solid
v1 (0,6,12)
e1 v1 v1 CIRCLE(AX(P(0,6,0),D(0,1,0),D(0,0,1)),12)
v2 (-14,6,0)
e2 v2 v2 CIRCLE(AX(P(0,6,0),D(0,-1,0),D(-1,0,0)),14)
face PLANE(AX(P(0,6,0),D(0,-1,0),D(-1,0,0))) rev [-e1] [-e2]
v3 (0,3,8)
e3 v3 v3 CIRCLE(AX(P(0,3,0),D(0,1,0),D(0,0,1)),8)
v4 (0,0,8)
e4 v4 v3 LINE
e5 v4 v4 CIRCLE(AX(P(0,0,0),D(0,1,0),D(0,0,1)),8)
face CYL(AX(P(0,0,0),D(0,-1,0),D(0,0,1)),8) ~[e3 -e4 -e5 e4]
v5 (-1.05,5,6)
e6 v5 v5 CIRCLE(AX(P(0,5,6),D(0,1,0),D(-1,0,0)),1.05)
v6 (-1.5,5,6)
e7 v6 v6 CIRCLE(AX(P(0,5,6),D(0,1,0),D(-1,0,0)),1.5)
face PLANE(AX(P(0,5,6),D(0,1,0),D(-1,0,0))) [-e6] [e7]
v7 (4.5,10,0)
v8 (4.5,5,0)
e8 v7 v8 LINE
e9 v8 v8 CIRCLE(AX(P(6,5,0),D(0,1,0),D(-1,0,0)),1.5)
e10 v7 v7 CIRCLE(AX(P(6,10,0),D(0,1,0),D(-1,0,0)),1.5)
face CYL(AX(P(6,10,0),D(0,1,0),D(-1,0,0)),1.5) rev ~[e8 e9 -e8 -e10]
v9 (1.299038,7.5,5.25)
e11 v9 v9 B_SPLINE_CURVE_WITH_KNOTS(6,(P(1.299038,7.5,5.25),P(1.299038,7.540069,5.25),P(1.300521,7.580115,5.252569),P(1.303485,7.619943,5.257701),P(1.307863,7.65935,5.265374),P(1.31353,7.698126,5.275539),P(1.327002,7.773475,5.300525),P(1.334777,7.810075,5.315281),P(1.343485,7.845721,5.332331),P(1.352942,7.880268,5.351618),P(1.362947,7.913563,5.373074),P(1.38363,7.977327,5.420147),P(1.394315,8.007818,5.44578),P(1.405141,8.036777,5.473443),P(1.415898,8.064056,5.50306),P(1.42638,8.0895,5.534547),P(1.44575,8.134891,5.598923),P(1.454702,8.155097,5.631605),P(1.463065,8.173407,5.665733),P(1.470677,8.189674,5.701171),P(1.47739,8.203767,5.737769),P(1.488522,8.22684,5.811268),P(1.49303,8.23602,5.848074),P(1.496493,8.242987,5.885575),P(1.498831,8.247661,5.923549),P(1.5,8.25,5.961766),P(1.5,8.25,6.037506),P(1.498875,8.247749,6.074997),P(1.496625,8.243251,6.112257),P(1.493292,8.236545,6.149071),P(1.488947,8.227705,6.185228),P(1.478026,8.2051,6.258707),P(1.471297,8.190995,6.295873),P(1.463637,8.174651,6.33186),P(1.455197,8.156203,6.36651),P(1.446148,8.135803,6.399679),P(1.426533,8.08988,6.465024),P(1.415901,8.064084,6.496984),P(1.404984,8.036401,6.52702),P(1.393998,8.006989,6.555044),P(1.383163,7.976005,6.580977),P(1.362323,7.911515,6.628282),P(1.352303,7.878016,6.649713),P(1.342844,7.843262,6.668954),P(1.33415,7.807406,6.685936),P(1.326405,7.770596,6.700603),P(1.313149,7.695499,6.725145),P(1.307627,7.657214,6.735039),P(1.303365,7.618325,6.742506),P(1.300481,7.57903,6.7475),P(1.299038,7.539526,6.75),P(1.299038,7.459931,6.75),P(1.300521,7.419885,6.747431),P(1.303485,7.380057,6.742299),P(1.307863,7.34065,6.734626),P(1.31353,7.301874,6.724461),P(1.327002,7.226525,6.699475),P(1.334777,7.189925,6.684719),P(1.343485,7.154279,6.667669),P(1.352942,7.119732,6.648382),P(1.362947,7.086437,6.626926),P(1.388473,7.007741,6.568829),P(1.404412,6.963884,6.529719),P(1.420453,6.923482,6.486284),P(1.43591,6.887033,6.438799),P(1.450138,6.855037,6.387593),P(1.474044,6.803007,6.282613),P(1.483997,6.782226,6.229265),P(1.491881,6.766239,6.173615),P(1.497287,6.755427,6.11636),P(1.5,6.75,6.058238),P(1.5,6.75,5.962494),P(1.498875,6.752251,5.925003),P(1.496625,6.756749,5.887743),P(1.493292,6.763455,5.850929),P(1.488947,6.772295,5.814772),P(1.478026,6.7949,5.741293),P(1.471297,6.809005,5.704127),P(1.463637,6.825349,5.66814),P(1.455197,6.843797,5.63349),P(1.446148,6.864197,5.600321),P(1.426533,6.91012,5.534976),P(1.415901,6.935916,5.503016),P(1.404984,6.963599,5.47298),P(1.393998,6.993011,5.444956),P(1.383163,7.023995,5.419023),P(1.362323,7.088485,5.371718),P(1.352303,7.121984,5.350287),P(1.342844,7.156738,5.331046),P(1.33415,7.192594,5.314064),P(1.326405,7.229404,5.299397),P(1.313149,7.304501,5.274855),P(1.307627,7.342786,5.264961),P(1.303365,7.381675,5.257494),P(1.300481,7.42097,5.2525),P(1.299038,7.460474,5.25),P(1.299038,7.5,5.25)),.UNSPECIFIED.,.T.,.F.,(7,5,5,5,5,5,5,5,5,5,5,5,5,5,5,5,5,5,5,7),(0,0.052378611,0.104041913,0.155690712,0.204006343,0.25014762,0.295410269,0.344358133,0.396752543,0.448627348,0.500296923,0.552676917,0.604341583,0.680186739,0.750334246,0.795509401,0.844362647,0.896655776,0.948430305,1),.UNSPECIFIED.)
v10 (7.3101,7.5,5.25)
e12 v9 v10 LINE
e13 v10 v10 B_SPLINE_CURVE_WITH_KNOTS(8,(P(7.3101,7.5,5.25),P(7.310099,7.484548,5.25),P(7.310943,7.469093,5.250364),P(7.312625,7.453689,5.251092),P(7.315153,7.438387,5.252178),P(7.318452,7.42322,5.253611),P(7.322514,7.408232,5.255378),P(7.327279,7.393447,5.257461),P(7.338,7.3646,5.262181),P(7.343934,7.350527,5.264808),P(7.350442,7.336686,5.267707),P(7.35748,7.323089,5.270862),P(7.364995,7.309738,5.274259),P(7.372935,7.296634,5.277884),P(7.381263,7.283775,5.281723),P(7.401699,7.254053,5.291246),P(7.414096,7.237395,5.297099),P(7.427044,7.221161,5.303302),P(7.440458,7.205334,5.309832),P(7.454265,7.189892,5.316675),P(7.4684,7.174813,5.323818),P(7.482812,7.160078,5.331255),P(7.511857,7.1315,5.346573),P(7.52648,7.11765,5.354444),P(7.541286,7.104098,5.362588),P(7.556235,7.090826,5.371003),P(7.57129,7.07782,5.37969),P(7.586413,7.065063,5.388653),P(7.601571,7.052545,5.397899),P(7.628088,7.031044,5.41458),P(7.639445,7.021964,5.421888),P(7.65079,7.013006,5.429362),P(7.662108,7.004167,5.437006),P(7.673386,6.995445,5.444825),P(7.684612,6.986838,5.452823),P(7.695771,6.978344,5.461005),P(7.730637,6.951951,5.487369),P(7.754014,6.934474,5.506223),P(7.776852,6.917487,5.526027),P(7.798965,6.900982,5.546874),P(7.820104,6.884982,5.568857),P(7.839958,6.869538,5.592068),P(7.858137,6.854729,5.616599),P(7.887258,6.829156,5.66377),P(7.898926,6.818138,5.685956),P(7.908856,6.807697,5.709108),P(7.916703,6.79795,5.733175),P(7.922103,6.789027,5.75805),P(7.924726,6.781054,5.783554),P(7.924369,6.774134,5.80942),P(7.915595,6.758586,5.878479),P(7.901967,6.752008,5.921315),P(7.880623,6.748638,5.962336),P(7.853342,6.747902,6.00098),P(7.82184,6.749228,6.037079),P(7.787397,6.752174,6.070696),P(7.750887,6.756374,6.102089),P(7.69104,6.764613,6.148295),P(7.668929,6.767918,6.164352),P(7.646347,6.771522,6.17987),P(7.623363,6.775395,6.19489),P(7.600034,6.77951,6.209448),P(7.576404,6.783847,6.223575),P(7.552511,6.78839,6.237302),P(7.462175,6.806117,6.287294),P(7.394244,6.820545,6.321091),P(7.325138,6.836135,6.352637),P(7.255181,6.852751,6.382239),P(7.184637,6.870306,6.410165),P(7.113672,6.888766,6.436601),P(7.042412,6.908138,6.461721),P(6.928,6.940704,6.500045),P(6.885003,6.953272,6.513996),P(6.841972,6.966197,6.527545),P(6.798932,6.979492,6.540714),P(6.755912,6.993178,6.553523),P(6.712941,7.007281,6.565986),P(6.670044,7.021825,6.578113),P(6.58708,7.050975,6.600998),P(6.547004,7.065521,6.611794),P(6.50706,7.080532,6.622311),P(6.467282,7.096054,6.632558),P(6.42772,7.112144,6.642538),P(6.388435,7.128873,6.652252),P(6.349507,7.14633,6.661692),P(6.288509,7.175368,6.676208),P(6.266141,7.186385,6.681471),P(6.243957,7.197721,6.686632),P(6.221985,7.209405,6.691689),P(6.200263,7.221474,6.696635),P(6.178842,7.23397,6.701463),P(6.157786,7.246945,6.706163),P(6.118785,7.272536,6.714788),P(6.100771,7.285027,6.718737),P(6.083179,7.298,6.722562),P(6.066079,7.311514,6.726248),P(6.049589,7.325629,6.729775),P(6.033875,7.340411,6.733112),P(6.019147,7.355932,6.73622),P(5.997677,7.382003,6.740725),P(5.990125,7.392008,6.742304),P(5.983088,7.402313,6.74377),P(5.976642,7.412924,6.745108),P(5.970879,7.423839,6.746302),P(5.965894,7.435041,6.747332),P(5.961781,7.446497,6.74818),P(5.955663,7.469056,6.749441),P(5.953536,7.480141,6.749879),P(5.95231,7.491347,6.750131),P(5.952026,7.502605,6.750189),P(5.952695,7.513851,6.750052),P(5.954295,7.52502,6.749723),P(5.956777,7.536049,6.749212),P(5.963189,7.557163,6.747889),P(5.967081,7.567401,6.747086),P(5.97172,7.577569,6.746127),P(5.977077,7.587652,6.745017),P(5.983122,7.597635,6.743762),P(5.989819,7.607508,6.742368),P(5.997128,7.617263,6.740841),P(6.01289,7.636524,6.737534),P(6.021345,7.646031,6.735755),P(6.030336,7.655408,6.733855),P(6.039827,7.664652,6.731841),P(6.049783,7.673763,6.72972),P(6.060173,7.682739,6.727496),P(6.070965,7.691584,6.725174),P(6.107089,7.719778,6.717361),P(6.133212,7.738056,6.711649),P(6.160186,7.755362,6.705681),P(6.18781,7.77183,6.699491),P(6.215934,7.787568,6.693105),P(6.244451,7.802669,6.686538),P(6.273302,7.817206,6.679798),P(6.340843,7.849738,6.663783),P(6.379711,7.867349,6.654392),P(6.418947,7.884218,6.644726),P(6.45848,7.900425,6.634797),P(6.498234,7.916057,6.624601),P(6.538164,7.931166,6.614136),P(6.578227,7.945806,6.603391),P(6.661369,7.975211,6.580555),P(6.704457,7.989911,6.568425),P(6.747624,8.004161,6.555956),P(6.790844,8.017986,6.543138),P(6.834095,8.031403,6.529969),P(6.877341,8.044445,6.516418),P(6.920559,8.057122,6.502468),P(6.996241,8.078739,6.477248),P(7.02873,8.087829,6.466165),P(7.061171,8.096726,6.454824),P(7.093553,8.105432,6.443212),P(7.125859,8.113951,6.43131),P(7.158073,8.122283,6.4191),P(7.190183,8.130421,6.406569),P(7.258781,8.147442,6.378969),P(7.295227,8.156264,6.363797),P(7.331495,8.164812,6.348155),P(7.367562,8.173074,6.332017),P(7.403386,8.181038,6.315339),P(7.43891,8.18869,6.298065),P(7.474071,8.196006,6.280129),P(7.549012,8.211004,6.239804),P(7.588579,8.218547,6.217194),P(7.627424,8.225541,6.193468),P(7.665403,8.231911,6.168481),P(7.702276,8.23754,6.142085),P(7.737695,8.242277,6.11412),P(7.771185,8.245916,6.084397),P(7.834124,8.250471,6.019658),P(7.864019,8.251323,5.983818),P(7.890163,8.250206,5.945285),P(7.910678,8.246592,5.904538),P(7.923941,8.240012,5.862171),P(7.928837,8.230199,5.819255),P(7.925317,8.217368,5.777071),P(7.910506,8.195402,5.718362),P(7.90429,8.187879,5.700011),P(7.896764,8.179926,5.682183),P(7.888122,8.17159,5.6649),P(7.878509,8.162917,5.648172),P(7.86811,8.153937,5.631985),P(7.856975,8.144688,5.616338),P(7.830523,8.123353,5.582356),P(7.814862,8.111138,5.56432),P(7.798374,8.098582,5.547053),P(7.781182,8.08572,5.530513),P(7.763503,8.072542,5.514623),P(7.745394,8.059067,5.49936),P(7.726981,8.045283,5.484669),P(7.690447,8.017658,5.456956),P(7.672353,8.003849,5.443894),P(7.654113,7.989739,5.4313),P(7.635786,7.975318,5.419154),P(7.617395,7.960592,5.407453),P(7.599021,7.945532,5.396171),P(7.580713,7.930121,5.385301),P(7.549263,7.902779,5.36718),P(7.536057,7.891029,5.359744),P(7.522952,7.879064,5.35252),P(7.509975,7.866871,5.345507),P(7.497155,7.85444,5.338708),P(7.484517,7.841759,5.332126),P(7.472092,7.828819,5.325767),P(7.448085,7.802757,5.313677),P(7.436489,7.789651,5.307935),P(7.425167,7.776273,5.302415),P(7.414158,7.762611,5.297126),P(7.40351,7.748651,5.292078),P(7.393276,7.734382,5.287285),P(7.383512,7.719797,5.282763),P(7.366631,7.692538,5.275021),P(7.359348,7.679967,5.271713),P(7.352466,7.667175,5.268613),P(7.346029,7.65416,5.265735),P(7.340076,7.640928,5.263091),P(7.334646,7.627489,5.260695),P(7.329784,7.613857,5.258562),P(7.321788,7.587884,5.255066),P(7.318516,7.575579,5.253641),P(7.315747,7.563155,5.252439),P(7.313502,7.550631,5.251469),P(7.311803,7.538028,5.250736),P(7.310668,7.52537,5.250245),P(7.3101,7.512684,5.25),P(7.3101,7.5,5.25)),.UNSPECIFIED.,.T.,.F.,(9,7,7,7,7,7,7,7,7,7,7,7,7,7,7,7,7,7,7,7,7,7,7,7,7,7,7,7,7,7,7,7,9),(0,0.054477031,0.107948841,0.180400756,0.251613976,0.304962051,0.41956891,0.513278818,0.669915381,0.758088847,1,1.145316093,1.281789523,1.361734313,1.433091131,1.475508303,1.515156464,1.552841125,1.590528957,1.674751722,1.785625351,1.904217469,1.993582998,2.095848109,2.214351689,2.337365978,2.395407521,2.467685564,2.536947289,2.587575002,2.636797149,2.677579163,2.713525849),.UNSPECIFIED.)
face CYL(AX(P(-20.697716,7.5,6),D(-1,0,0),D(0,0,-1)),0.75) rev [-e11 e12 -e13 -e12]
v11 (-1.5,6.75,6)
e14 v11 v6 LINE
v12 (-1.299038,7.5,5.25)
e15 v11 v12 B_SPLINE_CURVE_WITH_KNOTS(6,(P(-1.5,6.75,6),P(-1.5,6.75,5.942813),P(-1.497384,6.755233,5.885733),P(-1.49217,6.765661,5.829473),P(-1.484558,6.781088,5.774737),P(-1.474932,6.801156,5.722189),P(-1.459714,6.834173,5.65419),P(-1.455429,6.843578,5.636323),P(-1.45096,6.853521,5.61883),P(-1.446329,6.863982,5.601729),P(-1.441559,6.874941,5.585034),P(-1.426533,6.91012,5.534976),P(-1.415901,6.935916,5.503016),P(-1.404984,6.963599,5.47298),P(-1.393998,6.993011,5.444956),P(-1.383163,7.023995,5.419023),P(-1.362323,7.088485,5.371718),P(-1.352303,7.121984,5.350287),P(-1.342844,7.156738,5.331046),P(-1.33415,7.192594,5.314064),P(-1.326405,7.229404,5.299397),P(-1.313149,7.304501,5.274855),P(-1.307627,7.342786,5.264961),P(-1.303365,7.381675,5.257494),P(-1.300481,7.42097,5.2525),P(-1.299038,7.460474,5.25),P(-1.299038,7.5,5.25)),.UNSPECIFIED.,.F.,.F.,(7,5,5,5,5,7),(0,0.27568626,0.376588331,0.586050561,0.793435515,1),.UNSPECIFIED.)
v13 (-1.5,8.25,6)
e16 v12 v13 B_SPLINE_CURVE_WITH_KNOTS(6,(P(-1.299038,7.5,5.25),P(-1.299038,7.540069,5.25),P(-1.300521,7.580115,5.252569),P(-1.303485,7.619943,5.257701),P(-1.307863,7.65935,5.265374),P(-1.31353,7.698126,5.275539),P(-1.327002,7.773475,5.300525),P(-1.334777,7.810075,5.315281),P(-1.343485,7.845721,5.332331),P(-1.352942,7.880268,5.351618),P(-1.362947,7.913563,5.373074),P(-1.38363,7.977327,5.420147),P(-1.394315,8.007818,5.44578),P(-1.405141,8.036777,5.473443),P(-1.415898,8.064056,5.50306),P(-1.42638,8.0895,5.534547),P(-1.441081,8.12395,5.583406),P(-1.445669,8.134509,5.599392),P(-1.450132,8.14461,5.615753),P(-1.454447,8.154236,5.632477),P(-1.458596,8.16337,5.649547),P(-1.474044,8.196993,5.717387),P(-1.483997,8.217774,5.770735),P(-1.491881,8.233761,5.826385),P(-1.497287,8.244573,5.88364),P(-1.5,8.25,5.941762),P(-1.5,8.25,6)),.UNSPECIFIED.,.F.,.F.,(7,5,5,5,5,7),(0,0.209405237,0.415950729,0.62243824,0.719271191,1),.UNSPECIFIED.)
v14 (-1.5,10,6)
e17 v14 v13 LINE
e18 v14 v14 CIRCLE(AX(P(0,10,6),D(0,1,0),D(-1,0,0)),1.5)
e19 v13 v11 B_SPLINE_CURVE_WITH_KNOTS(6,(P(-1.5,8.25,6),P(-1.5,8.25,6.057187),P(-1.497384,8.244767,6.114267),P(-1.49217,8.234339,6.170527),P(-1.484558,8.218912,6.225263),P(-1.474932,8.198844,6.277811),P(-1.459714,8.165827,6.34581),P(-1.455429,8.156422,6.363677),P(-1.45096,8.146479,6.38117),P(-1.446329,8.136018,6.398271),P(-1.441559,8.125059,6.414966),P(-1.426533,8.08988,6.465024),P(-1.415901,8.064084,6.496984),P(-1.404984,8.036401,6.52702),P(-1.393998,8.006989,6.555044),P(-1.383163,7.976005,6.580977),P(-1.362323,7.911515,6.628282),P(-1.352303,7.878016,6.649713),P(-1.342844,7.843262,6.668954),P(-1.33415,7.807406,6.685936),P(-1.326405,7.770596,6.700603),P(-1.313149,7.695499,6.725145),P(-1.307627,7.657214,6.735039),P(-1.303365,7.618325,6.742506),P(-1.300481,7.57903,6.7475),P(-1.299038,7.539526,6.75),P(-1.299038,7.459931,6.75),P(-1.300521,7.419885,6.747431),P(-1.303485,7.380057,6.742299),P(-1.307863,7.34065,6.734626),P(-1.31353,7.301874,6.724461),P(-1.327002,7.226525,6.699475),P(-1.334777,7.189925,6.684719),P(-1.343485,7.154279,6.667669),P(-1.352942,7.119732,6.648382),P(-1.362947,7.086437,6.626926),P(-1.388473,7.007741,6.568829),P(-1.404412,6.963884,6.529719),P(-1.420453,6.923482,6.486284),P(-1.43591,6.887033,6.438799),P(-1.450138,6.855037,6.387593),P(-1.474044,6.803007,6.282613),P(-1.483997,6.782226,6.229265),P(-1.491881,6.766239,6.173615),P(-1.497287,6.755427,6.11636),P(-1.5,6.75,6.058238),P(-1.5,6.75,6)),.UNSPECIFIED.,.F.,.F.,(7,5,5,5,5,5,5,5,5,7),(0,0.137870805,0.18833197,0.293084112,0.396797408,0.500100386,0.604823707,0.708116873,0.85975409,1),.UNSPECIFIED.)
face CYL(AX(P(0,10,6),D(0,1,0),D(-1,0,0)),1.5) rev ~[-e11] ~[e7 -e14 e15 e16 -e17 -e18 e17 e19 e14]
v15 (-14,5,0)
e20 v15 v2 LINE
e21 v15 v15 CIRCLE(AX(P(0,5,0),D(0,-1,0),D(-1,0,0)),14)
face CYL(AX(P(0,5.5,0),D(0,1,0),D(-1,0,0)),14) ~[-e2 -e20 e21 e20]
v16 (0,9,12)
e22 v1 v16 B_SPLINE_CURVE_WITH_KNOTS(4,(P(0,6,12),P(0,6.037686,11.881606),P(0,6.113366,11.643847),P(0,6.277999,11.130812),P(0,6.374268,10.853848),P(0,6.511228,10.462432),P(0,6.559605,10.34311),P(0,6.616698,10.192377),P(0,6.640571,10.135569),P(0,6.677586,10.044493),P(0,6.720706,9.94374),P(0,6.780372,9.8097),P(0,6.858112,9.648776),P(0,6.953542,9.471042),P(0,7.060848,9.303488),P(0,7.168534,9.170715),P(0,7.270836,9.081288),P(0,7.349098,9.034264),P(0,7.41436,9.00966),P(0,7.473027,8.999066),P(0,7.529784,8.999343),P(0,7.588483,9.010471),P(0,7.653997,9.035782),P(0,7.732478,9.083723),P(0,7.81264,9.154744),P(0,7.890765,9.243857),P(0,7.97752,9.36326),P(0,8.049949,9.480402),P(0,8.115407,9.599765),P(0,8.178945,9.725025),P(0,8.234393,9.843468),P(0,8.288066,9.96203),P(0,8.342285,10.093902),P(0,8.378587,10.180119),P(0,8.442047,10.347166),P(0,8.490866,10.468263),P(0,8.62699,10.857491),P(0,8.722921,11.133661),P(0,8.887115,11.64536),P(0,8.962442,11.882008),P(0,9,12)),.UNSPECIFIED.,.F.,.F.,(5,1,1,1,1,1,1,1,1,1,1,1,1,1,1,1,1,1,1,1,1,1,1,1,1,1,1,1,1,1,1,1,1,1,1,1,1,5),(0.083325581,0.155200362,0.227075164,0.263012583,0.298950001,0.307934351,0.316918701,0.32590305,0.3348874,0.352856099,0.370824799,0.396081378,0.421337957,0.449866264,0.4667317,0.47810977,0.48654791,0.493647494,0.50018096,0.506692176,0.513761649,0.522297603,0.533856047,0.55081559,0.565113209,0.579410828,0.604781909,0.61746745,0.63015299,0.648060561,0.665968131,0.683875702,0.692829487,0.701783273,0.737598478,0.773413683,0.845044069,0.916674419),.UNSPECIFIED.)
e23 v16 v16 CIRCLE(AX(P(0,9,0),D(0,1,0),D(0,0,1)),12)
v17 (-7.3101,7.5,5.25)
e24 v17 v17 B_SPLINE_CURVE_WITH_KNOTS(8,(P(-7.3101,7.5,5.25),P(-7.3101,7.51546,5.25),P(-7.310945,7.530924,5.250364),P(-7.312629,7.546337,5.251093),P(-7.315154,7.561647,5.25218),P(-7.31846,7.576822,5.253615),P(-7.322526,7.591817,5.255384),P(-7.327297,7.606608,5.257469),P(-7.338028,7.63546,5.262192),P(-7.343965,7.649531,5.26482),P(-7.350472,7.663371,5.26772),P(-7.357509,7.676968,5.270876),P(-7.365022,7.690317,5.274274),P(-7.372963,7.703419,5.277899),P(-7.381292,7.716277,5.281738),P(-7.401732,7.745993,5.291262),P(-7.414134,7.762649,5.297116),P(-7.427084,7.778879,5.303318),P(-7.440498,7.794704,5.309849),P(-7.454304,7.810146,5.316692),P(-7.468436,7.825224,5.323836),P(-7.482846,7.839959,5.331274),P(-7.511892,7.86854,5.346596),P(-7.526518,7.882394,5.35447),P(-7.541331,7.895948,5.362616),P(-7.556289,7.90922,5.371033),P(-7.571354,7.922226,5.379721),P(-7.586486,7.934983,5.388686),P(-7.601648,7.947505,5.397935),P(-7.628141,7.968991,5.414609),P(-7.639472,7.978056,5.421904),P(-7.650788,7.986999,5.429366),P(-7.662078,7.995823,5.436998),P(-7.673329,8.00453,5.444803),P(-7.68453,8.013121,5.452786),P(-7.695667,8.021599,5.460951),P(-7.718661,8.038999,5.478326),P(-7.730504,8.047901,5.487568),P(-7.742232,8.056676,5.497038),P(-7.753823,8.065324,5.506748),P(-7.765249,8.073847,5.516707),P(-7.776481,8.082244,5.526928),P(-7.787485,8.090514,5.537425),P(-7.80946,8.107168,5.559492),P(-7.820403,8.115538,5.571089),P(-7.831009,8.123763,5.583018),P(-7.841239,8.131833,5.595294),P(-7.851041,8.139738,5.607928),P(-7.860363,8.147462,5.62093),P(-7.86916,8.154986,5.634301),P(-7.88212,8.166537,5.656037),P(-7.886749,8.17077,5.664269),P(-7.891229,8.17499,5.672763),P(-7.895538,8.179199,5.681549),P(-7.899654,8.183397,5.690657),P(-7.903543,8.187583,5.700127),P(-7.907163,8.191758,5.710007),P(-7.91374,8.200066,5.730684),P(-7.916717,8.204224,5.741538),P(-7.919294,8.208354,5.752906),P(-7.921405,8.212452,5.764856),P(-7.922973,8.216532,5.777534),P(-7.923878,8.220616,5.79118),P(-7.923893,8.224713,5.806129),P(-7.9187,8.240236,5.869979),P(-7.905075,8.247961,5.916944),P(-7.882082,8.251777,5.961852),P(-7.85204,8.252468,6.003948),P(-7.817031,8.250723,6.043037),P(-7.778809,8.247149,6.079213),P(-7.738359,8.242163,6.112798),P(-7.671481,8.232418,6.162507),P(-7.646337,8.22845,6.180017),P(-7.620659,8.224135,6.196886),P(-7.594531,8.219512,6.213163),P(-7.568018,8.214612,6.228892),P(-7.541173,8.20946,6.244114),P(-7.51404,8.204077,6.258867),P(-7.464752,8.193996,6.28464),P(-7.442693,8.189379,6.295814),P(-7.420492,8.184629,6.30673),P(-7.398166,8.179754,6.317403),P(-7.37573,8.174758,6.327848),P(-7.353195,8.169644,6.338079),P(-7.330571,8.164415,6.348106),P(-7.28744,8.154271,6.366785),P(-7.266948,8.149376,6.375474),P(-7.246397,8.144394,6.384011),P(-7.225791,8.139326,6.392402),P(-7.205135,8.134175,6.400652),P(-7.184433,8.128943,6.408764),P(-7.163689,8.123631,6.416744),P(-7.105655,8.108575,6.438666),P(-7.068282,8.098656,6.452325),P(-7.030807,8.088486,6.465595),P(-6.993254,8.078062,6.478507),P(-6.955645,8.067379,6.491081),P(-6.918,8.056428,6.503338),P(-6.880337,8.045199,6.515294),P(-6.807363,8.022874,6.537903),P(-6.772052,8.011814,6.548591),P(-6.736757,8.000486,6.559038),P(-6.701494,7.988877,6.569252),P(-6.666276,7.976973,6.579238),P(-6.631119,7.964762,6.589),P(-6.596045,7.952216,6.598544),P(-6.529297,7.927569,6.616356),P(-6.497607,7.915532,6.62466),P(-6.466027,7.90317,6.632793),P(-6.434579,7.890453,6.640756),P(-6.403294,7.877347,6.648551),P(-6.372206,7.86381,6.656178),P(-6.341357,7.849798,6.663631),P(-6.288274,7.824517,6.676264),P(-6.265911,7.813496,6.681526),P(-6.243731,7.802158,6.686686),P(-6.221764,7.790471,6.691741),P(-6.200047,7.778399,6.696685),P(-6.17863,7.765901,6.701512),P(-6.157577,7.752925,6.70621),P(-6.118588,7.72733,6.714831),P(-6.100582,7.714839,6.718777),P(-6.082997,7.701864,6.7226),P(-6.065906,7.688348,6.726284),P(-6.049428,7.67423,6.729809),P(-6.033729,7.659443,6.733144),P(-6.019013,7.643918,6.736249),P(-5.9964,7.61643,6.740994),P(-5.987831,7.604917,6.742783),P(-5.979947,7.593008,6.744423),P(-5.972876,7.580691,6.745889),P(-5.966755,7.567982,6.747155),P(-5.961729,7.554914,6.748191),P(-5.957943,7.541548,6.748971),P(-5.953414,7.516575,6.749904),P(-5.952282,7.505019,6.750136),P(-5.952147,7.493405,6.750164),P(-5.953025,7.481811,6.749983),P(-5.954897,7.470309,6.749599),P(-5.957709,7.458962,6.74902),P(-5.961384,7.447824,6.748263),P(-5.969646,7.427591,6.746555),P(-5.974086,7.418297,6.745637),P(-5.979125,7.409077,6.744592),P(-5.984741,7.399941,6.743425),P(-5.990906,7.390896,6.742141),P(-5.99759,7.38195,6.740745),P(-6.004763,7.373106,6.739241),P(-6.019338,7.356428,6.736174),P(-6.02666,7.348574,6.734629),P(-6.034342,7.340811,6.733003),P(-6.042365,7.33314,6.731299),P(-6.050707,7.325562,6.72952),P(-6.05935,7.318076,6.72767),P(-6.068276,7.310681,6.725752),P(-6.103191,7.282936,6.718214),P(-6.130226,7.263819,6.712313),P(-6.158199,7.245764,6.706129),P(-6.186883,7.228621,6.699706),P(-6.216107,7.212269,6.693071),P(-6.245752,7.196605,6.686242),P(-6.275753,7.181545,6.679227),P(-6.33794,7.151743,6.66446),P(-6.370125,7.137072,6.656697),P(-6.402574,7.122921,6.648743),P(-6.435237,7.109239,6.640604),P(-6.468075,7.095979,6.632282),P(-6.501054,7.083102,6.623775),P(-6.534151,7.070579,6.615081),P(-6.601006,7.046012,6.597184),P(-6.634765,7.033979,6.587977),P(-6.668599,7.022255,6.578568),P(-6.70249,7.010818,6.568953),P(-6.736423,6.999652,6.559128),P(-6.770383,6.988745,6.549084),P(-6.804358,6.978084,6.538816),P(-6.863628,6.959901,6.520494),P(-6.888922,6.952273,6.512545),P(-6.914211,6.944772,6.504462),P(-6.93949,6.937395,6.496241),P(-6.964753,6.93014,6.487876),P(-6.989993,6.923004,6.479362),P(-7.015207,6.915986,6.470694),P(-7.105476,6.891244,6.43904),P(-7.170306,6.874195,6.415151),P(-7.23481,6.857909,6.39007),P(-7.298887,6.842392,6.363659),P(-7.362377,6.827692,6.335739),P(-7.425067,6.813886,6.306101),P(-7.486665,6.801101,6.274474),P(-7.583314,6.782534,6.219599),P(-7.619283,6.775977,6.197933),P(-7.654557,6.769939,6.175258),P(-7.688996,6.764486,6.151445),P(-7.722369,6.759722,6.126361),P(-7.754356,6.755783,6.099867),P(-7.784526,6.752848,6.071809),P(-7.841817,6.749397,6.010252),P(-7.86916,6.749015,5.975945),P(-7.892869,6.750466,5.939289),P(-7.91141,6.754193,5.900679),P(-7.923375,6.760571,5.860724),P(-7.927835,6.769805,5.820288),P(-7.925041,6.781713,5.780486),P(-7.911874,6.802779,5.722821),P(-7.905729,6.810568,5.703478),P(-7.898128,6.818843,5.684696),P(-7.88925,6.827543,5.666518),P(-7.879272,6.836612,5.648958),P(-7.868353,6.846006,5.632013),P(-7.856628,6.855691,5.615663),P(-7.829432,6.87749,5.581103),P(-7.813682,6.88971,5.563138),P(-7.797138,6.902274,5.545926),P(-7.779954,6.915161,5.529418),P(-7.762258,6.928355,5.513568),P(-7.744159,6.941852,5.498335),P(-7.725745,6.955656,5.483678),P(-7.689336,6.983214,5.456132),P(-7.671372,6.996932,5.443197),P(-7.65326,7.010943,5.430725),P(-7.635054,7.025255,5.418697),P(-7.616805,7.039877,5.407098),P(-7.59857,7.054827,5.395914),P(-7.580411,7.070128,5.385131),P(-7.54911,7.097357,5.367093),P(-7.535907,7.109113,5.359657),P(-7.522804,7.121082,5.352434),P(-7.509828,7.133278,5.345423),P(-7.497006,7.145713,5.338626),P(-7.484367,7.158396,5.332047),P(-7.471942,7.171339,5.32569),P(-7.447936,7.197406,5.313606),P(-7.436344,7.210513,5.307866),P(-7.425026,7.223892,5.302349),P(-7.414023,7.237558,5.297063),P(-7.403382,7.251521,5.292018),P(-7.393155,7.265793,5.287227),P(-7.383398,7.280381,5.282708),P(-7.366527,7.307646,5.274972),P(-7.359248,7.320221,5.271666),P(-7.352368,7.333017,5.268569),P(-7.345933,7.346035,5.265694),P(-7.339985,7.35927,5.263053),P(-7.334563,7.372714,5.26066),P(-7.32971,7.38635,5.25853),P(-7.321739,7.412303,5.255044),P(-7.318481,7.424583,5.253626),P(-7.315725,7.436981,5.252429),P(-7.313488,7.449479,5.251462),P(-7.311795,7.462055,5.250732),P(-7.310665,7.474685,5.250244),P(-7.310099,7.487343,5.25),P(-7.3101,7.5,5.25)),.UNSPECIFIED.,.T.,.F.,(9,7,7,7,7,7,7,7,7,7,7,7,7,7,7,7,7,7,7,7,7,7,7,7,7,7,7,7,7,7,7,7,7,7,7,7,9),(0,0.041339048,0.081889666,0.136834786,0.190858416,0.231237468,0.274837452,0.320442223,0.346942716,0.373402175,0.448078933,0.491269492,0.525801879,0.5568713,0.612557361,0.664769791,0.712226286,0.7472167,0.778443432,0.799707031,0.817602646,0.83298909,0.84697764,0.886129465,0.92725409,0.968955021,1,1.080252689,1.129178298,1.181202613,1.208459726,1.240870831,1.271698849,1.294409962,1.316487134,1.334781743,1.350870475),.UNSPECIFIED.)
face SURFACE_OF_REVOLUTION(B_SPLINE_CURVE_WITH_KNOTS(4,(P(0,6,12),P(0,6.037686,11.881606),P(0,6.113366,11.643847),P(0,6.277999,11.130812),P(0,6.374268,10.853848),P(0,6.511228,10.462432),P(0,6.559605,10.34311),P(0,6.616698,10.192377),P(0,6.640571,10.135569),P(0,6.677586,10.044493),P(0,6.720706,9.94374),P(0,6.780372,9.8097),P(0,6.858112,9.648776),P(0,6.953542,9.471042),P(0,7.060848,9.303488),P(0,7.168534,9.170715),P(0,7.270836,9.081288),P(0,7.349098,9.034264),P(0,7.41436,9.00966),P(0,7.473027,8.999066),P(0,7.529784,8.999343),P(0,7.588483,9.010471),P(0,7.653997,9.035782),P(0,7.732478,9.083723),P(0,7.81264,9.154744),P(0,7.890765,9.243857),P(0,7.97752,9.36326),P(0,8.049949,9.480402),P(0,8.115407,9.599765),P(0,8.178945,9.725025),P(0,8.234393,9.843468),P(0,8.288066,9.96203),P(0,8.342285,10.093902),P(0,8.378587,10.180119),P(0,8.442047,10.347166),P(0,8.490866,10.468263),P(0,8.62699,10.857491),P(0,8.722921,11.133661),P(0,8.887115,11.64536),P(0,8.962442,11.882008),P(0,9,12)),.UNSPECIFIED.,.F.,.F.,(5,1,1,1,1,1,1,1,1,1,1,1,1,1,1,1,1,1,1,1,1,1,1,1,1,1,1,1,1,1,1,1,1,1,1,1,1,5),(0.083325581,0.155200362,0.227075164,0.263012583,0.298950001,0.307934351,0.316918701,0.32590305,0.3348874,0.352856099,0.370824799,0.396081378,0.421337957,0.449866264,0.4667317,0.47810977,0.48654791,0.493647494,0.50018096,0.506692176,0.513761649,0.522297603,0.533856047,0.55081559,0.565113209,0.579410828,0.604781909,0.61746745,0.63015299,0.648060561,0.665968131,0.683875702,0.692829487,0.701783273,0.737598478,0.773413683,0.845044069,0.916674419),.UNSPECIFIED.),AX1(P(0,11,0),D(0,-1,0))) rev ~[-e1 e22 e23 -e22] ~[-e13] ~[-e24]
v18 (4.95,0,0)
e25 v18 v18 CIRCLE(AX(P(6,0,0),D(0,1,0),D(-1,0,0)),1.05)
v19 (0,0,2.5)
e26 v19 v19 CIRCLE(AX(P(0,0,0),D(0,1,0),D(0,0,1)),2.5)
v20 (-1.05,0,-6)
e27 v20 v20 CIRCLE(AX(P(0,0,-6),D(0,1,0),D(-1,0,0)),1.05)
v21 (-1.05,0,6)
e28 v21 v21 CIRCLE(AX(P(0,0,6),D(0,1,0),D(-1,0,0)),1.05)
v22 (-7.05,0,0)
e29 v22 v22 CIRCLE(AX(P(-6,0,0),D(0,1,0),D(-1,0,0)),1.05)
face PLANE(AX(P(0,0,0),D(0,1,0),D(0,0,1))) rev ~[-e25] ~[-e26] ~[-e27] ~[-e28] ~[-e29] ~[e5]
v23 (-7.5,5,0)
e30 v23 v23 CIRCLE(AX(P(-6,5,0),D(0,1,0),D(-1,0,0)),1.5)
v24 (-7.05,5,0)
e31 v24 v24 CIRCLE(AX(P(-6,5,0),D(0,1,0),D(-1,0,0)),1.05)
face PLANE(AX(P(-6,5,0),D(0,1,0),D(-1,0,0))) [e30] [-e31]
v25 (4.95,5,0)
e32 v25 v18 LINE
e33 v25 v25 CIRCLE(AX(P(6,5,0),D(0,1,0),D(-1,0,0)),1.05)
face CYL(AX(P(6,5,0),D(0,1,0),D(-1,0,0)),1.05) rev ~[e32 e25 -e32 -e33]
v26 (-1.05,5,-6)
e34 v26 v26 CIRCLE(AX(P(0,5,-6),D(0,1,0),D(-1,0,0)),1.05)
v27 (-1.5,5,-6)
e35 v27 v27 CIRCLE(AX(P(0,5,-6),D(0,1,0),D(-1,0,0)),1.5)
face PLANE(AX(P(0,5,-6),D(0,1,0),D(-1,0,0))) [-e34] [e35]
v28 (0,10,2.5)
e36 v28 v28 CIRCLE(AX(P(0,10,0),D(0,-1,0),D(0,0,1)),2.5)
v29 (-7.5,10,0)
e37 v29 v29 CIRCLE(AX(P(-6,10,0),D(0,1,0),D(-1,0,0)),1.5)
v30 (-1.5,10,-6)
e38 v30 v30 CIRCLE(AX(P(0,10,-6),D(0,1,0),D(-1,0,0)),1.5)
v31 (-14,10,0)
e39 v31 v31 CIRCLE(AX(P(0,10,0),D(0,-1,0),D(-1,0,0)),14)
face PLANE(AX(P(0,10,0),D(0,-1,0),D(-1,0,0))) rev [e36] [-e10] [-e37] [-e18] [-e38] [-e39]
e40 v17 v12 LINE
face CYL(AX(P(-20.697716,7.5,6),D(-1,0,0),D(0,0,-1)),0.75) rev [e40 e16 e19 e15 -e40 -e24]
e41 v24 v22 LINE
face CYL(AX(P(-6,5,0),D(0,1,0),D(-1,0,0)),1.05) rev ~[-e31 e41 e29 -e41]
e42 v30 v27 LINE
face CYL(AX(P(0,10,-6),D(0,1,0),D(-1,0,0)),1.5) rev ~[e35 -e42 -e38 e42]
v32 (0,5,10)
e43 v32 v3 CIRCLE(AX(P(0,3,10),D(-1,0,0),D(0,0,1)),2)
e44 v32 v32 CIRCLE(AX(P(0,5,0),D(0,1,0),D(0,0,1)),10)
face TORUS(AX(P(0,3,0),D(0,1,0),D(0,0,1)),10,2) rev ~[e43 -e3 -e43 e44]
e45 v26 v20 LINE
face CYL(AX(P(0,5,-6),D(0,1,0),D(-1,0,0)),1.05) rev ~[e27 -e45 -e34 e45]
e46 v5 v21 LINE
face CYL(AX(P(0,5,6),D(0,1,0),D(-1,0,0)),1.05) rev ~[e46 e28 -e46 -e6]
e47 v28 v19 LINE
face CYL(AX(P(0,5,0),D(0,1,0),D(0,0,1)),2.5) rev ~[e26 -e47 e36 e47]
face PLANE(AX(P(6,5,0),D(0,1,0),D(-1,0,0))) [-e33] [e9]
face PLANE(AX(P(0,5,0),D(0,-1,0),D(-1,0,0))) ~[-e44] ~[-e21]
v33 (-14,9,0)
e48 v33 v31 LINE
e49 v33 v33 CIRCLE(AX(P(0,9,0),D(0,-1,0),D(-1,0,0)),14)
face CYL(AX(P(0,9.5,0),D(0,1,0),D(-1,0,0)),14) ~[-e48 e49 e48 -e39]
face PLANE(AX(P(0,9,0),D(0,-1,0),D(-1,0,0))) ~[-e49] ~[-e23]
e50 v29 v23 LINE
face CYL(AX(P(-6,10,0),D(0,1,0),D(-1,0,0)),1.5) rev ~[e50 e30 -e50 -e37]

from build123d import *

# Parameters (mm, degrees)
SKETCH_1_R               = 8
EXTRUDE_1_DEPTH          = 5
SKETCH_4_R               = 1.5
CUT_EXTRUDE_1_DEPTH      = 5
SKETCH_5_R               = 1.05
CUT_EXTRUDE_2_DEPTH      = 5
CUT_EXTRUDE_3_DEPTH      = 20.697715725
CUT_EXTRUDE_3_DEPTH_BACK = 20.697715725
SKETCH_6_R               = 0.75
FILLET_1_R               = 2
SKETCH_7_R               = 2.5
CUT_EXTRUDE_4_DEPTH      = 18.691806177
SKETCH_8_W               = 2
SKETCH_8_H               = 1


with BuildPart() as part:
    # 草图1 → 凸台-拉伸1 (new body)
    with BuildSketch(Plane(origin=(0, 0, 0), x_dir=(1, 0, 0), z_dir=(0, 1, 0))):
        with Locations(Location((0, 0, 0), (0, 0, 270))):
            Circle(SKETCH_1_R)
    extrude(amount=EXTRUDE_1_DEPTH)

    # 草图3 → 旋转3 (revolve)
    with BuildSketch(Plane.XY, mode=Mode.PRIVATE) as revolve_3_sk:
        with BuildLine():
            Line((2.5, 5), (12, 5))
            Line((12, 5), (12, 6))
            add(Edge.make_bspline(
                [(12, 6), (11.881605513, 6.037686136), (11.643847391, 6.113366384), (11.1308123, 6.277999279), (10.853848161, 6.374268454), (10.462432208, 6.511227783), (10.343110433, 6.559604769), (10.19237694, 6.616697566), (10.135568567, 6.640570799), (10.044493212, 6.677585871), (9.943739799, 6.720706003), (9.809699725, 6.780371733), (9.648775717, 6.858112274), (9.471041518, 6.953541858), (9.30348757, 7.060847742), (9.170715349, 7.168533862), (9.081288373, 7.270836083), (9.034264055, 7.349098369), (9.00966007, 7.414359694), (8.999065655, 7.473026617), (8.999342857, 7.529783688), (9.010470802, 7.588482504), (9.035781555, 7.653997439), (9.08372319, 7.732478484), (9.154743932, 7.812639974), (9.243856794, 7.890764576), (9.36325959, 7.977520225), (9.480401778, 8.049948999), (9.59976532, 8.115407144), (9.725024816, 8.178944598), (9.843468468, 8.234393018), (9.962029893, 8.288066069), (10.093902347, 8.342284824), (10.180119226, 8.378587138), (10.347165548, 8.442047118), (10.468262515, 8.490865615), (10.857491167, 8.626989754), (11.133661478, 8.72292094), (11.645360185, 8.887115159), (11.882008148, 8.962442027), (12, 9)],
                knots=[0.083325581, 0.083325581, 0.083325581, 0.083325581, 0.083325581, 0.155200362, 0.227075164, 0.263012583, 0.298950001, 0.307934351, 0.316918701, 0.32590305, 0.3348874, 0.352856099, 0.370824799, 0.396081378, 0.421337957, 0.449866264, 0.4667317, 0.47810977, 0.48654791, 0.493647494, 0.50018096, 0.506692176, 0.513761649, 0.522297603, 0.533856047, 0.55081559, 0.565113209, 0.579410828, 0.604781909, 0.61746745, 0.63015299, 0.648060561, 0.665968131, 0.683875702, 0.692829487, 0.701783273, 0.737598478, 0.773413683, 0.845044069, 0.916674419, 0.916674419, 0.916674419, 0.916674419, 0.916674419], degree=4))
            Line((12, 9), (12, 10))
            Line((12, 10), (2.5, 10))
            Line((2.5, 10), (2.5, 5))
        make_face()
    revolve(revolve_3_sk.sketch.rotate(Axis((0, 11, 0), (0, -1, 0)), 90), axis=Axis((0, 11, 0), (0, -1, 0)))

    # 草图4 → 切除-拉伸1 (cut)
    with BuildSketch(Plane(origin=(0, 10, 0), x_dir=(1, 0, 0), z_dir=(0, 1, 0))):
        with Locations(Location((0, 6, 0), (0, 0, 180))):
            Circle(SKETCH_4_R)
        with Locations(Location((6, 0, 0), (0, 0, 180))):
            Circle(SKETCH_4_R)
        with Locations(Location((0, -6, 0), (0, 0, 180))):
            Circle(SKETCH_4_R)
        with Locations(Location((-6, 0, 0), (0, 0, 180))):
            Circle(SKETCH_4_R)
    extrude(amount=-CUT_EXTRUDE_1_DEPTH, mode=Mode.SUBTRACT)

    # 草图5 → 切除-拉伸2 (cut)
    with BuildSketch(Plane(origin=(0, 5, 0), x_dir=(1, 0, 0), z_dir=(0, 1, 0))):
        with Locations(Location((0, 6, 0), (0, 0, 180))):
            Circle(SKETCH_5_R)
        with Locations(Location((-6, 0, 0), (0, 0, 180))):
            Circle(SKETCH_5_R)
        with Locations(Location((6, 0, 0), (0, 0, 180))):
            Circle(SKETCH_5_R)
        with Locations(Location((0, -6, 0), (0, 0, 180))):
            Circle(SKETCH_5_R)
    extrude(amount=-CUT_EXTRUDE_2_DEPTH, mode=Mode.SUBTRACT)

    # 草图6 → 切除-拉伸3 (cut, two sides: drawn at the far end of the back side and taken through both)
    with BuildSketch(Plane(origin=(0, 0, 0), x_dir=(0, 0, -1), z_dir=(1, 0, 0)).offset(-CUT_EXTRUDE_3_DEPTH_BACK)):
        with Locations((-6, 7.5)):
            Circle(SKETCH_6_R)
    extrude(amount=CUT_EXTRUDE_3_DEPTH + CUT_EXTRUDE_3_DEPTH_BACK, mode=Mode.SUBTRACT)

    # 圆角1
    fillet_1_edges = [part.edges().sort_by_distance(p)[0] for p in [
        (0, 5, -8),
    ]]
    fillet(fillet_1_edges, radius=FILLET_1_R)

    # 草图7 → 切除-拉伸4 (cut, through all)
    with BuildSketch(Plane(origin=(0, 5, 0), x_dir=(1, 0, 0), z_dir=(0, 1, 0))):
        with Locations(Location((0, 0, 0), (0, 0, 270))):
            Circle(SKETCH_7_R)
    extrude(amount=-CUT_EXTRUDE_4_DEPTH, mode=Mode.SUBTRACT)

    # 草图8 → 旋转4 (revolve)
    with BuildSketch(Plane.XY, mode=Mode.PRIVATE) as revolve_4_sk:
        with Locations((13, 9.5)):
            Rectangle(SKETCH_8_W, SKETCH_8_H)
        with Locations((13, 5.5)):
            Rectangle(SKETCH_8_W, SKETCH_8_H)
    revolve(revolve_4_sk.sketch.rotate(Axis((0, 9, 0), (0, -1, 0)), 180), axis=Axis((0, 9, 0), (0, -1, 0)))


solid = part.part
